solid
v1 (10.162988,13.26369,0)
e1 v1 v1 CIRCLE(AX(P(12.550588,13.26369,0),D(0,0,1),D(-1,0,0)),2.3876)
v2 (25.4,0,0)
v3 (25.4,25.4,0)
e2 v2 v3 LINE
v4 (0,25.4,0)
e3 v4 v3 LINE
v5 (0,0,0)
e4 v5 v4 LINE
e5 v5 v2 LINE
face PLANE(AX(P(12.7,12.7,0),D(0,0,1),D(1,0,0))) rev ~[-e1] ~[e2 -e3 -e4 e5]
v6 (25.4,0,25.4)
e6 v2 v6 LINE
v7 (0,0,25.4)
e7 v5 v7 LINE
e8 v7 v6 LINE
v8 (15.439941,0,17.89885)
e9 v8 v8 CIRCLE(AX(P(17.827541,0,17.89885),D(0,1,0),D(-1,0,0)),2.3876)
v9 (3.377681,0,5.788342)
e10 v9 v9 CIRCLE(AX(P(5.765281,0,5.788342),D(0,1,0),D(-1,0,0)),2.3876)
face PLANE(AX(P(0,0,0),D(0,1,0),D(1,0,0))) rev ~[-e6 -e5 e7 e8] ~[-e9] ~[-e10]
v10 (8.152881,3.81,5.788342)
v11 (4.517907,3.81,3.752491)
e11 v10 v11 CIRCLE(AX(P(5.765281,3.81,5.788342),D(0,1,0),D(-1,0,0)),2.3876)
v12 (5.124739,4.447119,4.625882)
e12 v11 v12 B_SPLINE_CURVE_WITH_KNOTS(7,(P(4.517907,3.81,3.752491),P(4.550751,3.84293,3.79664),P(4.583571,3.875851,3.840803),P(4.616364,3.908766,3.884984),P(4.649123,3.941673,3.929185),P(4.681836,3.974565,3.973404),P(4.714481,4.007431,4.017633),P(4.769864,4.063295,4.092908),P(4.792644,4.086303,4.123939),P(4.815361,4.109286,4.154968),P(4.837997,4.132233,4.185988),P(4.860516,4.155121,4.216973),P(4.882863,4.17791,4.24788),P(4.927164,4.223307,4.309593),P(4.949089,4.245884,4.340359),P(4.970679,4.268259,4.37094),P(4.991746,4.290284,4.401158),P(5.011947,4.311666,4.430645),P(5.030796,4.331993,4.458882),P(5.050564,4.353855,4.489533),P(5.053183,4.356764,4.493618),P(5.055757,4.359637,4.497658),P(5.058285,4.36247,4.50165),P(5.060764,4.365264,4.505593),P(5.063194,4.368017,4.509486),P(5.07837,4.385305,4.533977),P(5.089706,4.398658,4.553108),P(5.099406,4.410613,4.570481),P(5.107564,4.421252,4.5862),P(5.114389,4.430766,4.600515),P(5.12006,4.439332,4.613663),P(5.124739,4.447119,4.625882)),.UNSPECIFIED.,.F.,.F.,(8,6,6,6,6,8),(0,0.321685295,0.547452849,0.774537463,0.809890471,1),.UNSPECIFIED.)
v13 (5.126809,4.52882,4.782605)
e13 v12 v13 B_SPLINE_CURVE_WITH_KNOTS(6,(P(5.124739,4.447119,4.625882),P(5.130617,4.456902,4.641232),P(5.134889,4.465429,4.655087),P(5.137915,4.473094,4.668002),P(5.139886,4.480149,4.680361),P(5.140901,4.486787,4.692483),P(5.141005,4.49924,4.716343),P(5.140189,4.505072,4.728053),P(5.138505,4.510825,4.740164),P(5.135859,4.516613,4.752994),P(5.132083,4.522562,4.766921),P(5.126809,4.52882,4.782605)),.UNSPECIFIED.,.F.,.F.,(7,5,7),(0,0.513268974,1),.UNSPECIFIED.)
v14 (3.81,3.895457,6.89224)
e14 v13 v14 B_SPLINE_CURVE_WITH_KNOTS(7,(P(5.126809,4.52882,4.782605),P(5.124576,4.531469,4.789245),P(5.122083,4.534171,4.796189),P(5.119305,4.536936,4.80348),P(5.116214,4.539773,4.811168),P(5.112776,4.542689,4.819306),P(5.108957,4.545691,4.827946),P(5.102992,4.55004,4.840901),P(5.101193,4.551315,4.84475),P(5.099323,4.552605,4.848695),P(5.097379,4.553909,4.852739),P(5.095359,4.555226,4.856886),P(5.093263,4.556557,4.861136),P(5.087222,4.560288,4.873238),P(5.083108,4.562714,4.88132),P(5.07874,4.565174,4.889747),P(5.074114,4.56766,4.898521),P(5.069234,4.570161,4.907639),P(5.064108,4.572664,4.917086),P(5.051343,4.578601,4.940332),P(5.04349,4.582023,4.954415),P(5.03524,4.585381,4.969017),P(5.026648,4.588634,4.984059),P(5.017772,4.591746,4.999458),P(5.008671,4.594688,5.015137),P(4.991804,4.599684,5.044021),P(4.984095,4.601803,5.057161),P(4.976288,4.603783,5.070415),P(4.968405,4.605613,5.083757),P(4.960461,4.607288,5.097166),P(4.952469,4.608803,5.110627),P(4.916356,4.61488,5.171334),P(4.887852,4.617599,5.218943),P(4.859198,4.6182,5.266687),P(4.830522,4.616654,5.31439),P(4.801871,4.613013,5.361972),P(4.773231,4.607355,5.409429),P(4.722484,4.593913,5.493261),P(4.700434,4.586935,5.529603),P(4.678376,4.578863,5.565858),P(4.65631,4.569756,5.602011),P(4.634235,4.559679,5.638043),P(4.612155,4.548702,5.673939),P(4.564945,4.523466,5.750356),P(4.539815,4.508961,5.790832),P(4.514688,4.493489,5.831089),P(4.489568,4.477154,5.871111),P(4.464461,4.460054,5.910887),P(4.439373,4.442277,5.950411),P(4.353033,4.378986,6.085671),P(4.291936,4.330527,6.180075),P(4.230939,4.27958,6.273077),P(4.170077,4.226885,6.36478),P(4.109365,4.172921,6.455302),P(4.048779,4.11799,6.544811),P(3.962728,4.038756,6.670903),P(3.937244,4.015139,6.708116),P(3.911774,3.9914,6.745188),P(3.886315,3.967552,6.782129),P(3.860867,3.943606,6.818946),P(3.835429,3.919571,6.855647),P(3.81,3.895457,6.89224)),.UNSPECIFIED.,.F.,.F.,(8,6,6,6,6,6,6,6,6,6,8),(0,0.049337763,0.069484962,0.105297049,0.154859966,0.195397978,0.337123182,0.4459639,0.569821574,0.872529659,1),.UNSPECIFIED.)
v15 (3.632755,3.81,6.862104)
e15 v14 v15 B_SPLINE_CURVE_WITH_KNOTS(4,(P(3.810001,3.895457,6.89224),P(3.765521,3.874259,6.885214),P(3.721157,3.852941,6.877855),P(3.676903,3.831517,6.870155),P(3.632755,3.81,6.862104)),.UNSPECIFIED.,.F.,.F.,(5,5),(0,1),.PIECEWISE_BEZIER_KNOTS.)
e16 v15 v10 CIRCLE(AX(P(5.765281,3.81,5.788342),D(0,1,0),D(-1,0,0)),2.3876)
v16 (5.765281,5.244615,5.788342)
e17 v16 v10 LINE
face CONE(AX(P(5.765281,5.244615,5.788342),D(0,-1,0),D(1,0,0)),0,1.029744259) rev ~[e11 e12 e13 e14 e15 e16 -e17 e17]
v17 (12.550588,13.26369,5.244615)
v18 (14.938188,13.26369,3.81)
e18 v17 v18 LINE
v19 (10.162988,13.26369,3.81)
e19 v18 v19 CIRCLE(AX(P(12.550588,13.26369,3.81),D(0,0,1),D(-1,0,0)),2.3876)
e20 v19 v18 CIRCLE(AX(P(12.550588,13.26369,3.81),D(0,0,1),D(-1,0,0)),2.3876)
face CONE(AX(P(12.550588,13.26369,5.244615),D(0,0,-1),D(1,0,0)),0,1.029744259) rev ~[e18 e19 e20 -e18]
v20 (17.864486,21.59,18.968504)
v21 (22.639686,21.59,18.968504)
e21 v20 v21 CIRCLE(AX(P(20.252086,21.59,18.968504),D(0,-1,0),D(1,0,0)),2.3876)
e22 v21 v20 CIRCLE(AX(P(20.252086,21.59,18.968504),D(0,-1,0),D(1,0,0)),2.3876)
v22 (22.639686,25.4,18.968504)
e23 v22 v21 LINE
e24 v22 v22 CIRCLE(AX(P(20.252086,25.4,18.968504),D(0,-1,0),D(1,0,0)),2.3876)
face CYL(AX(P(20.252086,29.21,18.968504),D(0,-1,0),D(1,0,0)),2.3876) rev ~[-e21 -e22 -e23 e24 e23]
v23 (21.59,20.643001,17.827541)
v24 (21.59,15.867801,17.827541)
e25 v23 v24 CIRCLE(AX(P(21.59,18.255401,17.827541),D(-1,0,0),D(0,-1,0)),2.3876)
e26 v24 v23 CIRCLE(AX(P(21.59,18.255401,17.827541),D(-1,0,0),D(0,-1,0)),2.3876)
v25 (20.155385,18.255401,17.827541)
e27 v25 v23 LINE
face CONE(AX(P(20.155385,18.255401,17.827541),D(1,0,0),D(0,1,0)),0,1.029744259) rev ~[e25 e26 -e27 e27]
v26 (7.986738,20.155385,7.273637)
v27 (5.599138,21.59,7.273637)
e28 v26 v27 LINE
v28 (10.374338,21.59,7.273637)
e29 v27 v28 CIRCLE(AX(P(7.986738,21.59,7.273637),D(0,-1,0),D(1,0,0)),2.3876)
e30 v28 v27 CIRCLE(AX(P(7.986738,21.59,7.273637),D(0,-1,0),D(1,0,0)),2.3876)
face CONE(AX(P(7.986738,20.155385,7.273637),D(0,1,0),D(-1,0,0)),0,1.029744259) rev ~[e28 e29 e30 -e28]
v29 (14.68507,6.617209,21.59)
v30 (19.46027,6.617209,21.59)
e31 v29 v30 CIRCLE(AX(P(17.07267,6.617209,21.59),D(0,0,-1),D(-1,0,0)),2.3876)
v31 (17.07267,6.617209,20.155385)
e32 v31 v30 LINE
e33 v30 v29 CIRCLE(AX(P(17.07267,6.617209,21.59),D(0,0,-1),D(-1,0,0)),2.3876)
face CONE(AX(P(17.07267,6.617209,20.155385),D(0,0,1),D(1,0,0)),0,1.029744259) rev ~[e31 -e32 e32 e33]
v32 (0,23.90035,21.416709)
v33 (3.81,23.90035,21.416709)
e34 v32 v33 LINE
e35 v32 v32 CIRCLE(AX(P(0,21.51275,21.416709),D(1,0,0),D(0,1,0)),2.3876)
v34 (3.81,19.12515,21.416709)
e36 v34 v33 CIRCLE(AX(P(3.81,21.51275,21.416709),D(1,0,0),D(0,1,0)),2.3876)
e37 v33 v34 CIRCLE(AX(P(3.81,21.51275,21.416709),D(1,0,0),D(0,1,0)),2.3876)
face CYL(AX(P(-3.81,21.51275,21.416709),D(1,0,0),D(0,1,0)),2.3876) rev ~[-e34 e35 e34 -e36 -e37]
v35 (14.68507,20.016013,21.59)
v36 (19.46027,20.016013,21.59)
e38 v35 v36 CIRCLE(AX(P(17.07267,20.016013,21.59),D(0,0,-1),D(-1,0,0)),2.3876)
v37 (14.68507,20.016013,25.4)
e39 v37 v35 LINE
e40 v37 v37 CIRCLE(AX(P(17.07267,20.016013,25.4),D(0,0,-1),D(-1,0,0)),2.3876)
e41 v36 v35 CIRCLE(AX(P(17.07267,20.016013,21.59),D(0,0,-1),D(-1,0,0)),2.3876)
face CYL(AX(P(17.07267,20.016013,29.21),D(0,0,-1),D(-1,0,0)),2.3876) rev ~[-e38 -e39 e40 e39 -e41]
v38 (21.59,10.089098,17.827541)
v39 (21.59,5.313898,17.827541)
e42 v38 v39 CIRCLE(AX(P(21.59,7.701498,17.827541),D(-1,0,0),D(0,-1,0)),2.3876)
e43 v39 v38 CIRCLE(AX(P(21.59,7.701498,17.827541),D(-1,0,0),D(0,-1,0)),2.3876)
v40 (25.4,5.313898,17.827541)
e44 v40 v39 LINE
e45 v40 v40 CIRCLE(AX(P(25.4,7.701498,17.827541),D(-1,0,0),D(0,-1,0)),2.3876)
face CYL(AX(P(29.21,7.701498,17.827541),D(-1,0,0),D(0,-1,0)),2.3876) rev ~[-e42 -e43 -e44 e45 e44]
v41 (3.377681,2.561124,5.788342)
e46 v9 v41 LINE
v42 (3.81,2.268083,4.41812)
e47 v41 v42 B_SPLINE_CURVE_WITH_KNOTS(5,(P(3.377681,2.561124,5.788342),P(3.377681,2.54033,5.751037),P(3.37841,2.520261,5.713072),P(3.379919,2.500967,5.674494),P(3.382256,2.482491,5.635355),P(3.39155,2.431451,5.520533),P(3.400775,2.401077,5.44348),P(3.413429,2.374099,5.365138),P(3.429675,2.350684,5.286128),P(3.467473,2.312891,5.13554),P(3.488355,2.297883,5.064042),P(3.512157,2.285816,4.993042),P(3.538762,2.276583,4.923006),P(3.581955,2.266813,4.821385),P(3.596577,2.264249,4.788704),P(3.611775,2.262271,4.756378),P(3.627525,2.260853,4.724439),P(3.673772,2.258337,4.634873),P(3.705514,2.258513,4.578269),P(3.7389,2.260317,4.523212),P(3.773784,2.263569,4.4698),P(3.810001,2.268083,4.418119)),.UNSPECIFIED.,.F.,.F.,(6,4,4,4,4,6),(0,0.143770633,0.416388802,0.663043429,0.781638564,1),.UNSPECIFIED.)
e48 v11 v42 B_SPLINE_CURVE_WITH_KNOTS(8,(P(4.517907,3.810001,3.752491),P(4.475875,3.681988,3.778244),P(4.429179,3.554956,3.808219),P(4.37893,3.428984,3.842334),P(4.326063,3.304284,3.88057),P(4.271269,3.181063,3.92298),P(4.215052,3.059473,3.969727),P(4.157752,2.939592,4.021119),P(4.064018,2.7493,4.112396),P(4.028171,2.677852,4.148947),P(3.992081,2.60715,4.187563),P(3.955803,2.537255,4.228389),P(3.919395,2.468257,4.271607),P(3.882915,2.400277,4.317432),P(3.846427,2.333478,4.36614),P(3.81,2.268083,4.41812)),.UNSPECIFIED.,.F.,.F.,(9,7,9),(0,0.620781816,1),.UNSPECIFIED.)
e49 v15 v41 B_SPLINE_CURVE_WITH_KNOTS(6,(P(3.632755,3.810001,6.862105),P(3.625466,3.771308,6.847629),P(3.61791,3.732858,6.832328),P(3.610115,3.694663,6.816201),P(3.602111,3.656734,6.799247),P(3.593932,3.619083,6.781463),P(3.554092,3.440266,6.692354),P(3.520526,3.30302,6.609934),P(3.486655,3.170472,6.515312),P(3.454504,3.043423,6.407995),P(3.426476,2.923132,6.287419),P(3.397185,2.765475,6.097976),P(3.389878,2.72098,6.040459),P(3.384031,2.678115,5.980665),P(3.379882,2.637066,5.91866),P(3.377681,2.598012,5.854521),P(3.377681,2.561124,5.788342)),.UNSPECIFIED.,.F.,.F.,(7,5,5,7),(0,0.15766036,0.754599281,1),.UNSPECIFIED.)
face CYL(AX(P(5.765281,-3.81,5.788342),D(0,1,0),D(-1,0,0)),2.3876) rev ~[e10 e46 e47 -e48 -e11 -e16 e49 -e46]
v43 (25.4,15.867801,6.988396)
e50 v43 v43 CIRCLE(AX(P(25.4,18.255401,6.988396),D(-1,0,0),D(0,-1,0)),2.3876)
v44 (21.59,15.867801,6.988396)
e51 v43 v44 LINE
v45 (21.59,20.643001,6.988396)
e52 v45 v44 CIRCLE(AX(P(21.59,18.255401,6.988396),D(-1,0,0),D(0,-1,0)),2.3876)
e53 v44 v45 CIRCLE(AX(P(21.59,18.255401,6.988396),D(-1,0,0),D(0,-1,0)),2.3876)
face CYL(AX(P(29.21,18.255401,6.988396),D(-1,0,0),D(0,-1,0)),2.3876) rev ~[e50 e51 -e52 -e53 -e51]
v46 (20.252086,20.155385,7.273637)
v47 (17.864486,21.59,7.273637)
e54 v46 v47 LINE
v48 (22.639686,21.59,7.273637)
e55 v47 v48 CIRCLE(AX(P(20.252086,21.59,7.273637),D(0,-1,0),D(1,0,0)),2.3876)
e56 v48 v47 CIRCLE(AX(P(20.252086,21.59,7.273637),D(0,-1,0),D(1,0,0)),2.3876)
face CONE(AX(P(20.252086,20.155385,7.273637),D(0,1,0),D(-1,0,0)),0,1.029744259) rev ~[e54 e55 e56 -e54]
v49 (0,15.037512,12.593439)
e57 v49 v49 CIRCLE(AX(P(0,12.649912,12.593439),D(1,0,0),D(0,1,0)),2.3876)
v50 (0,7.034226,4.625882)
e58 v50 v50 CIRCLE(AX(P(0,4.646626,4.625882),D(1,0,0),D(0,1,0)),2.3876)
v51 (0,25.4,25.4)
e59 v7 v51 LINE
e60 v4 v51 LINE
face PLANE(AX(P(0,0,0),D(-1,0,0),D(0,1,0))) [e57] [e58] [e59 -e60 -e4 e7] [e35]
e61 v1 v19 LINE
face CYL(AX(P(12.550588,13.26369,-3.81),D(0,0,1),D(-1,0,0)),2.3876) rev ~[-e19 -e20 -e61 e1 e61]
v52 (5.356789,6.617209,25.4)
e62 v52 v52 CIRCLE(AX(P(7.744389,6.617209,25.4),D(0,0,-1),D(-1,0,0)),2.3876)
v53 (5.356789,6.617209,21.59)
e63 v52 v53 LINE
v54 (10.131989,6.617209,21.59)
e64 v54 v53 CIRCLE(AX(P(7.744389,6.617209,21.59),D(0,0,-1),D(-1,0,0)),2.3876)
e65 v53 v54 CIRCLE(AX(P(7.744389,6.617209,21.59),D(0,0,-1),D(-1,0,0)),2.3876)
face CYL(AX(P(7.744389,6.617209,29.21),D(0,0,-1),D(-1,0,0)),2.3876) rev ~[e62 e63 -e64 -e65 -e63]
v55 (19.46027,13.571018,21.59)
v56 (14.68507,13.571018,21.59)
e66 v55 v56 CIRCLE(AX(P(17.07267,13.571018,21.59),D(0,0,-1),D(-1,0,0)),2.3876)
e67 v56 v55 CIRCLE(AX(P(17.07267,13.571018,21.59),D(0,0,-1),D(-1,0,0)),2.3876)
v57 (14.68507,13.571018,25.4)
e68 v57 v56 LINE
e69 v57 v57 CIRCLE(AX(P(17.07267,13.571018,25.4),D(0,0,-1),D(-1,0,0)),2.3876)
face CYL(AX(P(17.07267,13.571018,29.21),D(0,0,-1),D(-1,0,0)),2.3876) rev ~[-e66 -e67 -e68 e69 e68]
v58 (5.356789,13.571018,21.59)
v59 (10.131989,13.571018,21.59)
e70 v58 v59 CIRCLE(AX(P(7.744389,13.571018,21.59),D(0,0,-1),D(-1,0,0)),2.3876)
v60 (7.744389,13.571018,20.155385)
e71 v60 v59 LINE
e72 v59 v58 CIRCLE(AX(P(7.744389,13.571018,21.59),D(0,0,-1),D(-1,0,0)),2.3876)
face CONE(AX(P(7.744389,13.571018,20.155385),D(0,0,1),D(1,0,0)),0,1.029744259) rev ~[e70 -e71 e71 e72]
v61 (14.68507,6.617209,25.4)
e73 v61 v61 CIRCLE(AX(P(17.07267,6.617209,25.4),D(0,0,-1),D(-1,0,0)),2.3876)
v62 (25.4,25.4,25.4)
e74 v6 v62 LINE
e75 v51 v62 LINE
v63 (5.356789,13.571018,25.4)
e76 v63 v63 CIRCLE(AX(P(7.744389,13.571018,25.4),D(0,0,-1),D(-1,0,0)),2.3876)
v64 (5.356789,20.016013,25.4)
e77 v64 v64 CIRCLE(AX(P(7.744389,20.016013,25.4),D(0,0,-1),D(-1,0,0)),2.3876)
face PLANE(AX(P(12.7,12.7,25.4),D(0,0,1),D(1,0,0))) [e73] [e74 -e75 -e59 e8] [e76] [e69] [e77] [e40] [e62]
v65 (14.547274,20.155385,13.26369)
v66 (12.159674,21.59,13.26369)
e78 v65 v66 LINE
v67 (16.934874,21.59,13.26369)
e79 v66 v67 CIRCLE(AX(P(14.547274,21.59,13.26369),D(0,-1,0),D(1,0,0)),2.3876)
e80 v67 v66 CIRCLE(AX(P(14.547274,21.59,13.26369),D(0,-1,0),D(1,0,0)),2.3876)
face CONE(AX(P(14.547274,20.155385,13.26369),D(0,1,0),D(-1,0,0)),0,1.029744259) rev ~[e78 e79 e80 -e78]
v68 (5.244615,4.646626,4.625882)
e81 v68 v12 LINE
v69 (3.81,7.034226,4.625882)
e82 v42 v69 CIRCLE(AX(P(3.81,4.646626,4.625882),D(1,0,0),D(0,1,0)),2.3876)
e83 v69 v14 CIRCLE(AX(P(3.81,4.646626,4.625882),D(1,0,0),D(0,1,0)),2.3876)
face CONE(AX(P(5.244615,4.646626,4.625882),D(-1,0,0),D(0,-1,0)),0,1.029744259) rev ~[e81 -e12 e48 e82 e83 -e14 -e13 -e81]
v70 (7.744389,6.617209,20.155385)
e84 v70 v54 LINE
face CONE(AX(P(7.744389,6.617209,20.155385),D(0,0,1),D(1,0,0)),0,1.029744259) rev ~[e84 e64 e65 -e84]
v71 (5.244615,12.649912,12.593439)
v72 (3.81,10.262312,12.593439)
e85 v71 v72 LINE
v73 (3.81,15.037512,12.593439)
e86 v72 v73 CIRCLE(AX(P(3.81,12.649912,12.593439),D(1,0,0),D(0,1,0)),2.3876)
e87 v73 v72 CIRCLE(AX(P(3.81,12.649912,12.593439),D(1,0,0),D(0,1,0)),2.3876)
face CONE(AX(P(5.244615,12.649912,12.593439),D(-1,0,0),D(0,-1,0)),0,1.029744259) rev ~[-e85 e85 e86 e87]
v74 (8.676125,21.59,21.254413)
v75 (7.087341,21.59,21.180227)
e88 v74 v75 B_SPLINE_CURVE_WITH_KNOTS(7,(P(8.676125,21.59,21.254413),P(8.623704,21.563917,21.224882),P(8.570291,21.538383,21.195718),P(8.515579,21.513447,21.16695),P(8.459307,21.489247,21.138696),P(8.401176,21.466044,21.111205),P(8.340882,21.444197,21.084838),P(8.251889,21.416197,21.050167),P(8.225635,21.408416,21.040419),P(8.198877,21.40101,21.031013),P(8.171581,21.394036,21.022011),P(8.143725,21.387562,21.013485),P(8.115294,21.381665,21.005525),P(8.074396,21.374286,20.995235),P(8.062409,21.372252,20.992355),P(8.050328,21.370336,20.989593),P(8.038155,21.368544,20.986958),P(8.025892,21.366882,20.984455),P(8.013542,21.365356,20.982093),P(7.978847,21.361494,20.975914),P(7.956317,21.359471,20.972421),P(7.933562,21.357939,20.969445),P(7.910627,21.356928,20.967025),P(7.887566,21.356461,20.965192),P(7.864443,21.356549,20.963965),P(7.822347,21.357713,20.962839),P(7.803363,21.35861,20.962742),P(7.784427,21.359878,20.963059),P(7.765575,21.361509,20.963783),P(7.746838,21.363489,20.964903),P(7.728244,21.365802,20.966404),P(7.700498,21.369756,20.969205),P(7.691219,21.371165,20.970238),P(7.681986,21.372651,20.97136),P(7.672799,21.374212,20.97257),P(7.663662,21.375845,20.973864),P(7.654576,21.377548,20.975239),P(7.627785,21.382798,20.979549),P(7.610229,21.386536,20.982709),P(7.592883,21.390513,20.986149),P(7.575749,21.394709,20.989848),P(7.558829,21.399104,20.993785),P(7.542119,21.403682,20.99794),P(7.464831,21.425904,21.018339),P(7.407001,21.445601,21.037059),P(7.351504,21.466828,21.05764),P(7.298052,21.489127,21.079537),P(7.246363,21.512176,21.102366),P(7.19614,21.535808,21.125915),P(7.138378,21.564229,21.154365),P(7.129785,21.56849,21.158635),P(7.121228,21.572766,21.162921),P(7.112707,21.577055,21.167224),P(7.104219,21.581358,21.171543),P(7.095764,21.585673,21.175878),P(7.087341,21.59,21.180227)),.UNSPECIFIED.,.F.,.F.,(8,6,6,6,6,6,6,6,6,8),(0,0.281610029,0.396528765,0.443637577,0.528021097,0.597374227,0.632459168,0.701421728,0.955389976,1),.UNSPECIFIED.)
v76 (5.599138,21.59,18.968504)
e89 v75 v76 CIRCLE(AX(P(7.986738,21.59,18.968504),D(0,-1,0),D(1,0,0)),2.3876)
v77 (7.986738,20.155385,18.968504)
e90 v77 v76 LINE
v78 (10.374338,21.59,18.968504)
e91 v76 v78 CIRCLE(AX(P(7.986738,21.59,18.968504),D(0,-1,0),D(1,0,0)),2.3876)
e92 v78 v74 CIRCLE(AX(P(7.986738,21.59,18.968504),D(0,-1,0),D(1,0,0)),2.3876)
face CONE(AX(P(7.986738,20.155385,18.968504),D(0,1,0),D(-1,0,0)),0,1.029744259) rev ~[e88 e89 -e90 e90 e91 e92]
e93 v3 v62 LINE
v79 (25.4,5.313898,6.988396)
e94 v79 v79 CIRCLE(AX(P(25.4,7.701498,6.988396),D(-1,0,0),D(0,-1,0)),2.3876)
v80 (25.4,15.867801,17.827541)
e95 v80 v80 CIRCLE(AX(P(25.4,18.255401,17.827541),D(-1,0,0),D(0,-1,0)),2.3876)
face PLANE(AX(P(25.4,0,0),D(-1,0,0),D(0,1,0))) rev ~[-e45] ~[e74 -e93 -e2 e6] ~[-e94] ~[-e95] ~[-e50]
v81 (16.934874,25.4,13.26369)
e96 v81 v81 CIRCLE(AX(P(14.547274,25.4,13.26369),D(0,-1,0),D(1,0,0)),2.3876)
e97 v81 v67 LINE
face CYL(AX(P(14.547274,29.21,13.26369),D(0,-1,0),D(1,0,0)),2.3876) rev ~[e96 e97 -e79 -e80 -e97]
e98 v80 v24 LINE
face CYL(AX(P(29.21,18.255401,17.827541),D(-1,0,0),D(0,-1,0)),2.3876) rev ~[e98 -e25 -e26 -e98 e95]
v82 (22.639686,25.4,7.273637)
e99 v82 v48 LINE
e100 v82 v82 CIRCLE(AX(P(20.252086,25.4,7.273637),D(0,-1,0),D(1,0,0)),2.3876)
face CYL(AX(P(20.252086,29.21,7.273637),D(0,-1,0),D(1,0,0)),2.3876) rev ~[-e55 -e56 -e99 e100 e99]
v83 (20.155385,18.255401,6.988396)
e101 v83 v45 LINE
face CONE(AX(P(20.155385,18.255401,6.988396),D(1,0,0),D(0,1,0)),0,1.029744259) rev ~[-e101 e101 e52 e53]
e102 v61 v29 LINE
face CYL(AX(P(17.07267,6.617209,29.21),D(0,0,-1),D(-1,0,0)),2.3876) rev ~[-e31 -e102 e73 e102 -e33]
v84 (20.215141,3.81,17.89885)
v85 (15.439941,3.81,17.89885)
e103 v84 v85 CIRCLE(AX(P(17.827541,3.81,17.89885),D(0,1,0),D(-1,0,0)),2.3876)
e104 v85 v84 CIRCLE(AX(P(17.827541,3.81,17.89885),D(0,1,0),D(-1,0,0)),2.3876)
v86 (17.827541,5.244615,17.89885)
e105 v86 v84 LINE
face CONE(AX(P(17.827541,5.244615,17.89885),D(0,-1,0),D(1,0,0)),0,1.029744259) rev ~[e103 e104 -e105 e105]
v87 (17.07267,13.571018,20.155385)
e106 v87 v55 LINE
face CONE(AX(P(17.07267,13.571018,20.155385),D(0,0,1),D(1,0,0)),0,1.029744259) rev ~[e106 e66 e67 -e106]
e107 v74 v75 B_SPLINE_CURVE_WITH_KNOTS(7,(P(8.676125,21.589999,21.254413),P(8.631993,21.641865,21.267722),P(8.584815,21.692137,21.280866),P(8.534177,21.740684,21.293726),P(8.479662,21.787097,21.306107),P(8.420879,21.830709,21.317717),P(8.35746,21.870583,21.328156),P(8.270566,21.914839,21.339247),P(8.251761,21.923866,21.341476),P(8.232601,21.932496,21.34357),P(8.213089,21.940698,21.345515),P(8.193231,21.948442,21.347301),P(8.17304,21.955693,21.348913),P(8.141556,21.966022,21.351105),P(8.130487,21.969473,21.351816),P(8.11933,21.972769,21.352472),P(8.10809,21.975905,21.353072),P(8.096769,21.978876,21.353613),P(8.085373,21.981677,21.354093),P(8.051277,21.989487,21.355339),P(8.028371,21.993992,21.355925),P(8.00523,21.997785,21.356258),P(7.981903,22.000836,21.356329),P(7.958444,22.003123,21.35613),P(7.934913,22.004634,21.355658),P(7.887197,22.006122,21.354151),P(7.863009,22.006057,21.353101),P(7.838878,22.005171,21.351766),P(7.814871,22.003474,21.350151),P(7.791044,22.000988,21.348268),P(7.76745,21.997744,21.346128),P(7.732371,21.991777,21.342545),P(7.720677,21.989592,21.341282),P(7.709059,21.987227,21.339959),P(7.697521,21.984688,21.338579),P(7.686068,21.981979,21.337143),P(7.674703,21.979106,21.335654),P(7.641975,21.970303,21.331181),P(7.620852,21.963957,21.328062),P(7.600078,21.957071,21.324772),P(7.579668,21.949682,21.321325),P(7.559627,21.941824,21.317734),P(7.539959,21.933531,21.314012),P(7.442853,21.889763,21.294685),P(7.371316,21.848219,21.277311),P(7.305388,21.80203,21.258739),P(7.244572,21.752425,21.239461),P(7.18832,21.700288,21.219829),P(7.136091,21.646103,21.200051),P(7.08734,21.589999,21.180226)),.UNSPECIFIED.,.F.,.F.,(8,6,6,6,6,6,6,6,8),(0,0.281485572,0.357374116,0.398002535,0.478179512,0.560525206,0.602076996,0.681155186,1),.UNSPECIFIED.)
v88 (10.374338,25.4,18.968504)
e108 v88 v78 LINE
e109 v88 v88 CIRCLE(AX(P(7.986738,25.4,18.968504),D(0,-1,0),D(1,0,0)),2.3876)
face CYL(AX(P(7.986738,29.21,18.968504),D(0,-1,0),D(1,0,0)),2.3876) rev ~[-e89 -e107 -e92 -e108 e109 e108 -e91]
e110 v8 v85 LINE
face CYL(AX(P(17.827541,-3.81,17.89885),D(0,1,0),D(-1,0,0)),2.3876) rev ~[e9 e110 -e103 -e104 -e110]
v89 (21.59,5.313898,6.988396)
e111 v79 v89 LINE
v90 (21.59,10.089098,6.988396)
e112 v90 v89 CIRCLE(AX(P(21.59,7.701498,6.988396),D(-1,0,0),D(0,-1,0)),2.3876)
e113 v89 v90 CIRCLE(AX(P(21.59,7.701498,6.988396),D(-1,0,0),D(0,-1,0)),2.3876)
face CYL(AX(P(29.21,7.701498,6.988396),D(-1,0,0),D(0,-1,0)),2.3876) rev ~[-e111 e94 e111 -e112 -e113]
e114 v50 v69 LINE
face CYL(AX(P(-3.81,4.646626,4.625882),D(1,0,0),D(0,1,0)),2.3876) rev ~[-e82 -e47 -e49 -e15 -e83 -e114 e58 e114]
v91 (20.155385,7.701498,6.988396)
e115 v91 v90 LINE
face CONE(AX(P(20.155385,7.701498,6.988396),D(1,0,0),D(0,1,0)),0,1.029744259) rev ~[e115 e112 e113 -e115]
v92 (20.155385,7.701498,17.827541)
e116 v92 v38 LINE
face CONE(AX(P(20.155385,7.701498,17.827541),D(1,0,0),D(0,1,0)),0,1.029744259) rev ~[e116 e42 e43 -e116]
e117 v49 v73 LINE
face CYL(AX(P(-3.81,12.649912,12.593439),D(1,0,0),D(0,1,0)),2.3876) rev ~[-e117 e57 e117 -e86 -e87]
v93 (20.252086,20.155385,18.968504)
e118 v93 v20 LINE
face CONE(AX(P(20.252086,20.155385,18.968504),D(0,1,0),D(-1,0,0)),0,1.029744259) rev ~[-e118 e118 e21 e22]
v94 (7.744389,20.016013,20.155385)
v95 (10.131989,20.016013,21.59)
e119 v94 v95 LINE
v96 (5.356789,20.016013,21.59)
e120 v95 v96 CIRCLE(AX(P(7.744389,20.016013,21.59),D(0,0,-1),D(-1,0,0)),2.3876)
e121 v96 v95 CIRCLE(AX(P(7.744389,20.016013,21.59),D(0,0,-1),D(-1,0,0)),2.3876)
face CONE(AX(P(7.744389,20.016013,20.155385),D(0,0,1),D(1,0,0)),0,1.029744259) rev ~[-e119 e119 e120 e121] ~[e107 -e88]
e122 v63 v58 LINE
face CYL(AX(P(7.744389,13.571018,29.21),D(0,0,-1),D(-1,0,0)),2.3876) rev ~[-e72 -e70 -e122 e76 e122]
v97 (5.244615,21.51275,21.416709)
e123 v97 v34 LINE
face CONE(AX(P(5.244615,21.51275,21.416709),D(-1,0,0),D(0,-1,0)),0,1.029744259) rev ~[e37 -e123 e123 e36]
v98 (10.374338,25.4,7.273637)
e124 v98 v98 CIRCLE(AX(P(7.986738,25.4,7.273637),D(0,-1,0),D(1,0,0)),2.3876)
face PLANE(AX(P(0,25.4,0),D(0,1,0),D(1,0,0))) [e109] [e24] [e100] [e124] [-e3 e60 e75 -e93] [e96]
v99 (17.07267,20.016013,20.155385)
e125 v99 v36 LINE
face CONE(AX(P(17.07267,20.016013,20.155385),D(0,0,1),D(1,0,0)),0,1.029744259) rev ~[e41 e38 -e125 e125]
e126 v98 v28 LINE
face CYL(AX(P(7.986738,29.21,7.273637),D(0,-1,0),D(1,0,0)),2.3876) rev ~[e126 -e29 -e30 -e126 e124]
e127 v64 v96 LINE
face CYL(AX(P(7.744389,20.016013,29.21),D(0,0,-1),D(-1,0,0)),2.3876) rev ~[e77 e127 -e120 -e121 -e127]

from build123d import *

# Parameters (mm, degrees)
F0_W      = 25.4
F0_H      = 25.4
F1_DEPTH  = 25.4
F3_D      = 4.7752
F3_DEPTH  = 3.81
F3_TIP    = 1.434614814
F6_D      = 4.7752
F6_DEPTH  = 3.81
F6_TIP    = 1.434614814
F9_D      = 4.7752
F9_DEPTH  = 3.81
F9_TIP    = 1.434614814
F12_D     = 4.7752
F12_DEPTH = 3.81
F12_TIP   = 1.434614814
F15_D     = 4.7752
F15_DEPTH = 3.81
F15_TIP   = 1.434614814
F18_D     = 4.7752
F18_DEPTH = 3.81
F18_TIP   = 1.434614814


with BuildPart() as f1:
    # F0 (on Top) → F1 (new body)
    with BuildSketch(Plane.XY):
        with Locations((12.7, 12.7)):
            Rectangle(F0_W, F0_H)
    extrude(amount=F1_DEPTH)

    # F3
    with Locations(Plane(origin=(0, 0, 0), x_dir=(1, 0, 0), z_dir=(0, 0, -1))):
        with Locations((12.5505877659, -13.2636902854)):
            Hole(F3_D / 2, depth=F3_DEPTH)
            with Locations((0, 0, -(F3_DEPTH + F3_TIP / 2))):  # 118° drill point
                Cone(0, F3_D / 2, F3_TIP, mode=Mode.SUBTRACT)

    # F6
    with Locations(Plane.XY.offset(25.4)):
        with Locations((7.7443891205, 20.0160127133), (17.0726701617, 20.0160127133), (17.0726701617, 13.5710183531), (7.7443891205, 13.5710183531), (17.0726701617, 6.6172094084), (7.7443891205, 6.6172094084)):
            Hole(F6_D / 2, depth=F6_DEPTH)
            with Locations((0, 0, -(F6_DEPTH + F6_TIP / 2))):  # 118° drill point
                Cone(0, F6_D / 2, F6_TIP, mode=Mode.SUBTRACT)

    # F9
    with Locations(Plane.YZ.offset(25.4)):
        with Locations((7.701497525, 17.8275406361), (18.2554014027, 17.8275406361), (18.2554014027, 6.9883959368), (7.701497525, 6.9883959368)):
            Hole(F9_D / 2, depth=F9_DEPTH)
            with Locations((0, 0, -(F9_DEPTH + F9_TIP / 2))):  # 118° drill point
                Cone(0, F9_D / 2, F9_TIP, mode=Mode.SUBTRACT)

    # F12
    with Locations(Plane(origin=(0, 0, 0), x_dir=(0, -1, 0), z_dir=(-1, 0, 0))):
        with Locations((-21.512749598, 21.4167089134), (-12.6499123884, 12.5934386103), (-4.6466261932, 4.6258819755)):
            Hole(F12_D / 2, depth=F12_DEPTH)
            with Locations((0, 0, -(F12_DEPTH + F12_TIP / 2))):  # 118° drill point
                Cone(0, F12_D / 2, F12_TIP, mode=Mode.SUBTRACT)

    # F15
    with Locations(Plane.XZ):
        with Locations((5.7652813432, 5.7883422565), (17.8275406361, 17.898850143)):
            Hole(F15_D / 2, depth=F15_DEPTH)
            with Locations((0, 0, -(F15_DEPTH + F15_TIP / 2))):  # 118° drill point
                Cone(0, F15_D / 2, F15_TIP, mode=Mode.SUBTRACT)

    # F18
    with Locations(Plane(origin=(0, 25.4, 0), x_dir=(-1, 0, 0), z_dir=(0, 1, 0))):
        with Locations((-20.2520862222, 18.9685039222), (-7.9867383465, 18.9685039222), (-14.5472735167, 13.2636902854), (-20.2520862222, 7.2736367583), (-7.9867383465, 7.2736367583)):
            Hole(F18_D / 2, depth=F18_DEPTH)
            with Locations((0, 0, -(F18_DEPTH + F18_TIP / 2))):  # 118° drill point
                Cone(0, F18_D / 2, F18_TIP, mode=Mode.SUBTRACT)


solid = f1.part
